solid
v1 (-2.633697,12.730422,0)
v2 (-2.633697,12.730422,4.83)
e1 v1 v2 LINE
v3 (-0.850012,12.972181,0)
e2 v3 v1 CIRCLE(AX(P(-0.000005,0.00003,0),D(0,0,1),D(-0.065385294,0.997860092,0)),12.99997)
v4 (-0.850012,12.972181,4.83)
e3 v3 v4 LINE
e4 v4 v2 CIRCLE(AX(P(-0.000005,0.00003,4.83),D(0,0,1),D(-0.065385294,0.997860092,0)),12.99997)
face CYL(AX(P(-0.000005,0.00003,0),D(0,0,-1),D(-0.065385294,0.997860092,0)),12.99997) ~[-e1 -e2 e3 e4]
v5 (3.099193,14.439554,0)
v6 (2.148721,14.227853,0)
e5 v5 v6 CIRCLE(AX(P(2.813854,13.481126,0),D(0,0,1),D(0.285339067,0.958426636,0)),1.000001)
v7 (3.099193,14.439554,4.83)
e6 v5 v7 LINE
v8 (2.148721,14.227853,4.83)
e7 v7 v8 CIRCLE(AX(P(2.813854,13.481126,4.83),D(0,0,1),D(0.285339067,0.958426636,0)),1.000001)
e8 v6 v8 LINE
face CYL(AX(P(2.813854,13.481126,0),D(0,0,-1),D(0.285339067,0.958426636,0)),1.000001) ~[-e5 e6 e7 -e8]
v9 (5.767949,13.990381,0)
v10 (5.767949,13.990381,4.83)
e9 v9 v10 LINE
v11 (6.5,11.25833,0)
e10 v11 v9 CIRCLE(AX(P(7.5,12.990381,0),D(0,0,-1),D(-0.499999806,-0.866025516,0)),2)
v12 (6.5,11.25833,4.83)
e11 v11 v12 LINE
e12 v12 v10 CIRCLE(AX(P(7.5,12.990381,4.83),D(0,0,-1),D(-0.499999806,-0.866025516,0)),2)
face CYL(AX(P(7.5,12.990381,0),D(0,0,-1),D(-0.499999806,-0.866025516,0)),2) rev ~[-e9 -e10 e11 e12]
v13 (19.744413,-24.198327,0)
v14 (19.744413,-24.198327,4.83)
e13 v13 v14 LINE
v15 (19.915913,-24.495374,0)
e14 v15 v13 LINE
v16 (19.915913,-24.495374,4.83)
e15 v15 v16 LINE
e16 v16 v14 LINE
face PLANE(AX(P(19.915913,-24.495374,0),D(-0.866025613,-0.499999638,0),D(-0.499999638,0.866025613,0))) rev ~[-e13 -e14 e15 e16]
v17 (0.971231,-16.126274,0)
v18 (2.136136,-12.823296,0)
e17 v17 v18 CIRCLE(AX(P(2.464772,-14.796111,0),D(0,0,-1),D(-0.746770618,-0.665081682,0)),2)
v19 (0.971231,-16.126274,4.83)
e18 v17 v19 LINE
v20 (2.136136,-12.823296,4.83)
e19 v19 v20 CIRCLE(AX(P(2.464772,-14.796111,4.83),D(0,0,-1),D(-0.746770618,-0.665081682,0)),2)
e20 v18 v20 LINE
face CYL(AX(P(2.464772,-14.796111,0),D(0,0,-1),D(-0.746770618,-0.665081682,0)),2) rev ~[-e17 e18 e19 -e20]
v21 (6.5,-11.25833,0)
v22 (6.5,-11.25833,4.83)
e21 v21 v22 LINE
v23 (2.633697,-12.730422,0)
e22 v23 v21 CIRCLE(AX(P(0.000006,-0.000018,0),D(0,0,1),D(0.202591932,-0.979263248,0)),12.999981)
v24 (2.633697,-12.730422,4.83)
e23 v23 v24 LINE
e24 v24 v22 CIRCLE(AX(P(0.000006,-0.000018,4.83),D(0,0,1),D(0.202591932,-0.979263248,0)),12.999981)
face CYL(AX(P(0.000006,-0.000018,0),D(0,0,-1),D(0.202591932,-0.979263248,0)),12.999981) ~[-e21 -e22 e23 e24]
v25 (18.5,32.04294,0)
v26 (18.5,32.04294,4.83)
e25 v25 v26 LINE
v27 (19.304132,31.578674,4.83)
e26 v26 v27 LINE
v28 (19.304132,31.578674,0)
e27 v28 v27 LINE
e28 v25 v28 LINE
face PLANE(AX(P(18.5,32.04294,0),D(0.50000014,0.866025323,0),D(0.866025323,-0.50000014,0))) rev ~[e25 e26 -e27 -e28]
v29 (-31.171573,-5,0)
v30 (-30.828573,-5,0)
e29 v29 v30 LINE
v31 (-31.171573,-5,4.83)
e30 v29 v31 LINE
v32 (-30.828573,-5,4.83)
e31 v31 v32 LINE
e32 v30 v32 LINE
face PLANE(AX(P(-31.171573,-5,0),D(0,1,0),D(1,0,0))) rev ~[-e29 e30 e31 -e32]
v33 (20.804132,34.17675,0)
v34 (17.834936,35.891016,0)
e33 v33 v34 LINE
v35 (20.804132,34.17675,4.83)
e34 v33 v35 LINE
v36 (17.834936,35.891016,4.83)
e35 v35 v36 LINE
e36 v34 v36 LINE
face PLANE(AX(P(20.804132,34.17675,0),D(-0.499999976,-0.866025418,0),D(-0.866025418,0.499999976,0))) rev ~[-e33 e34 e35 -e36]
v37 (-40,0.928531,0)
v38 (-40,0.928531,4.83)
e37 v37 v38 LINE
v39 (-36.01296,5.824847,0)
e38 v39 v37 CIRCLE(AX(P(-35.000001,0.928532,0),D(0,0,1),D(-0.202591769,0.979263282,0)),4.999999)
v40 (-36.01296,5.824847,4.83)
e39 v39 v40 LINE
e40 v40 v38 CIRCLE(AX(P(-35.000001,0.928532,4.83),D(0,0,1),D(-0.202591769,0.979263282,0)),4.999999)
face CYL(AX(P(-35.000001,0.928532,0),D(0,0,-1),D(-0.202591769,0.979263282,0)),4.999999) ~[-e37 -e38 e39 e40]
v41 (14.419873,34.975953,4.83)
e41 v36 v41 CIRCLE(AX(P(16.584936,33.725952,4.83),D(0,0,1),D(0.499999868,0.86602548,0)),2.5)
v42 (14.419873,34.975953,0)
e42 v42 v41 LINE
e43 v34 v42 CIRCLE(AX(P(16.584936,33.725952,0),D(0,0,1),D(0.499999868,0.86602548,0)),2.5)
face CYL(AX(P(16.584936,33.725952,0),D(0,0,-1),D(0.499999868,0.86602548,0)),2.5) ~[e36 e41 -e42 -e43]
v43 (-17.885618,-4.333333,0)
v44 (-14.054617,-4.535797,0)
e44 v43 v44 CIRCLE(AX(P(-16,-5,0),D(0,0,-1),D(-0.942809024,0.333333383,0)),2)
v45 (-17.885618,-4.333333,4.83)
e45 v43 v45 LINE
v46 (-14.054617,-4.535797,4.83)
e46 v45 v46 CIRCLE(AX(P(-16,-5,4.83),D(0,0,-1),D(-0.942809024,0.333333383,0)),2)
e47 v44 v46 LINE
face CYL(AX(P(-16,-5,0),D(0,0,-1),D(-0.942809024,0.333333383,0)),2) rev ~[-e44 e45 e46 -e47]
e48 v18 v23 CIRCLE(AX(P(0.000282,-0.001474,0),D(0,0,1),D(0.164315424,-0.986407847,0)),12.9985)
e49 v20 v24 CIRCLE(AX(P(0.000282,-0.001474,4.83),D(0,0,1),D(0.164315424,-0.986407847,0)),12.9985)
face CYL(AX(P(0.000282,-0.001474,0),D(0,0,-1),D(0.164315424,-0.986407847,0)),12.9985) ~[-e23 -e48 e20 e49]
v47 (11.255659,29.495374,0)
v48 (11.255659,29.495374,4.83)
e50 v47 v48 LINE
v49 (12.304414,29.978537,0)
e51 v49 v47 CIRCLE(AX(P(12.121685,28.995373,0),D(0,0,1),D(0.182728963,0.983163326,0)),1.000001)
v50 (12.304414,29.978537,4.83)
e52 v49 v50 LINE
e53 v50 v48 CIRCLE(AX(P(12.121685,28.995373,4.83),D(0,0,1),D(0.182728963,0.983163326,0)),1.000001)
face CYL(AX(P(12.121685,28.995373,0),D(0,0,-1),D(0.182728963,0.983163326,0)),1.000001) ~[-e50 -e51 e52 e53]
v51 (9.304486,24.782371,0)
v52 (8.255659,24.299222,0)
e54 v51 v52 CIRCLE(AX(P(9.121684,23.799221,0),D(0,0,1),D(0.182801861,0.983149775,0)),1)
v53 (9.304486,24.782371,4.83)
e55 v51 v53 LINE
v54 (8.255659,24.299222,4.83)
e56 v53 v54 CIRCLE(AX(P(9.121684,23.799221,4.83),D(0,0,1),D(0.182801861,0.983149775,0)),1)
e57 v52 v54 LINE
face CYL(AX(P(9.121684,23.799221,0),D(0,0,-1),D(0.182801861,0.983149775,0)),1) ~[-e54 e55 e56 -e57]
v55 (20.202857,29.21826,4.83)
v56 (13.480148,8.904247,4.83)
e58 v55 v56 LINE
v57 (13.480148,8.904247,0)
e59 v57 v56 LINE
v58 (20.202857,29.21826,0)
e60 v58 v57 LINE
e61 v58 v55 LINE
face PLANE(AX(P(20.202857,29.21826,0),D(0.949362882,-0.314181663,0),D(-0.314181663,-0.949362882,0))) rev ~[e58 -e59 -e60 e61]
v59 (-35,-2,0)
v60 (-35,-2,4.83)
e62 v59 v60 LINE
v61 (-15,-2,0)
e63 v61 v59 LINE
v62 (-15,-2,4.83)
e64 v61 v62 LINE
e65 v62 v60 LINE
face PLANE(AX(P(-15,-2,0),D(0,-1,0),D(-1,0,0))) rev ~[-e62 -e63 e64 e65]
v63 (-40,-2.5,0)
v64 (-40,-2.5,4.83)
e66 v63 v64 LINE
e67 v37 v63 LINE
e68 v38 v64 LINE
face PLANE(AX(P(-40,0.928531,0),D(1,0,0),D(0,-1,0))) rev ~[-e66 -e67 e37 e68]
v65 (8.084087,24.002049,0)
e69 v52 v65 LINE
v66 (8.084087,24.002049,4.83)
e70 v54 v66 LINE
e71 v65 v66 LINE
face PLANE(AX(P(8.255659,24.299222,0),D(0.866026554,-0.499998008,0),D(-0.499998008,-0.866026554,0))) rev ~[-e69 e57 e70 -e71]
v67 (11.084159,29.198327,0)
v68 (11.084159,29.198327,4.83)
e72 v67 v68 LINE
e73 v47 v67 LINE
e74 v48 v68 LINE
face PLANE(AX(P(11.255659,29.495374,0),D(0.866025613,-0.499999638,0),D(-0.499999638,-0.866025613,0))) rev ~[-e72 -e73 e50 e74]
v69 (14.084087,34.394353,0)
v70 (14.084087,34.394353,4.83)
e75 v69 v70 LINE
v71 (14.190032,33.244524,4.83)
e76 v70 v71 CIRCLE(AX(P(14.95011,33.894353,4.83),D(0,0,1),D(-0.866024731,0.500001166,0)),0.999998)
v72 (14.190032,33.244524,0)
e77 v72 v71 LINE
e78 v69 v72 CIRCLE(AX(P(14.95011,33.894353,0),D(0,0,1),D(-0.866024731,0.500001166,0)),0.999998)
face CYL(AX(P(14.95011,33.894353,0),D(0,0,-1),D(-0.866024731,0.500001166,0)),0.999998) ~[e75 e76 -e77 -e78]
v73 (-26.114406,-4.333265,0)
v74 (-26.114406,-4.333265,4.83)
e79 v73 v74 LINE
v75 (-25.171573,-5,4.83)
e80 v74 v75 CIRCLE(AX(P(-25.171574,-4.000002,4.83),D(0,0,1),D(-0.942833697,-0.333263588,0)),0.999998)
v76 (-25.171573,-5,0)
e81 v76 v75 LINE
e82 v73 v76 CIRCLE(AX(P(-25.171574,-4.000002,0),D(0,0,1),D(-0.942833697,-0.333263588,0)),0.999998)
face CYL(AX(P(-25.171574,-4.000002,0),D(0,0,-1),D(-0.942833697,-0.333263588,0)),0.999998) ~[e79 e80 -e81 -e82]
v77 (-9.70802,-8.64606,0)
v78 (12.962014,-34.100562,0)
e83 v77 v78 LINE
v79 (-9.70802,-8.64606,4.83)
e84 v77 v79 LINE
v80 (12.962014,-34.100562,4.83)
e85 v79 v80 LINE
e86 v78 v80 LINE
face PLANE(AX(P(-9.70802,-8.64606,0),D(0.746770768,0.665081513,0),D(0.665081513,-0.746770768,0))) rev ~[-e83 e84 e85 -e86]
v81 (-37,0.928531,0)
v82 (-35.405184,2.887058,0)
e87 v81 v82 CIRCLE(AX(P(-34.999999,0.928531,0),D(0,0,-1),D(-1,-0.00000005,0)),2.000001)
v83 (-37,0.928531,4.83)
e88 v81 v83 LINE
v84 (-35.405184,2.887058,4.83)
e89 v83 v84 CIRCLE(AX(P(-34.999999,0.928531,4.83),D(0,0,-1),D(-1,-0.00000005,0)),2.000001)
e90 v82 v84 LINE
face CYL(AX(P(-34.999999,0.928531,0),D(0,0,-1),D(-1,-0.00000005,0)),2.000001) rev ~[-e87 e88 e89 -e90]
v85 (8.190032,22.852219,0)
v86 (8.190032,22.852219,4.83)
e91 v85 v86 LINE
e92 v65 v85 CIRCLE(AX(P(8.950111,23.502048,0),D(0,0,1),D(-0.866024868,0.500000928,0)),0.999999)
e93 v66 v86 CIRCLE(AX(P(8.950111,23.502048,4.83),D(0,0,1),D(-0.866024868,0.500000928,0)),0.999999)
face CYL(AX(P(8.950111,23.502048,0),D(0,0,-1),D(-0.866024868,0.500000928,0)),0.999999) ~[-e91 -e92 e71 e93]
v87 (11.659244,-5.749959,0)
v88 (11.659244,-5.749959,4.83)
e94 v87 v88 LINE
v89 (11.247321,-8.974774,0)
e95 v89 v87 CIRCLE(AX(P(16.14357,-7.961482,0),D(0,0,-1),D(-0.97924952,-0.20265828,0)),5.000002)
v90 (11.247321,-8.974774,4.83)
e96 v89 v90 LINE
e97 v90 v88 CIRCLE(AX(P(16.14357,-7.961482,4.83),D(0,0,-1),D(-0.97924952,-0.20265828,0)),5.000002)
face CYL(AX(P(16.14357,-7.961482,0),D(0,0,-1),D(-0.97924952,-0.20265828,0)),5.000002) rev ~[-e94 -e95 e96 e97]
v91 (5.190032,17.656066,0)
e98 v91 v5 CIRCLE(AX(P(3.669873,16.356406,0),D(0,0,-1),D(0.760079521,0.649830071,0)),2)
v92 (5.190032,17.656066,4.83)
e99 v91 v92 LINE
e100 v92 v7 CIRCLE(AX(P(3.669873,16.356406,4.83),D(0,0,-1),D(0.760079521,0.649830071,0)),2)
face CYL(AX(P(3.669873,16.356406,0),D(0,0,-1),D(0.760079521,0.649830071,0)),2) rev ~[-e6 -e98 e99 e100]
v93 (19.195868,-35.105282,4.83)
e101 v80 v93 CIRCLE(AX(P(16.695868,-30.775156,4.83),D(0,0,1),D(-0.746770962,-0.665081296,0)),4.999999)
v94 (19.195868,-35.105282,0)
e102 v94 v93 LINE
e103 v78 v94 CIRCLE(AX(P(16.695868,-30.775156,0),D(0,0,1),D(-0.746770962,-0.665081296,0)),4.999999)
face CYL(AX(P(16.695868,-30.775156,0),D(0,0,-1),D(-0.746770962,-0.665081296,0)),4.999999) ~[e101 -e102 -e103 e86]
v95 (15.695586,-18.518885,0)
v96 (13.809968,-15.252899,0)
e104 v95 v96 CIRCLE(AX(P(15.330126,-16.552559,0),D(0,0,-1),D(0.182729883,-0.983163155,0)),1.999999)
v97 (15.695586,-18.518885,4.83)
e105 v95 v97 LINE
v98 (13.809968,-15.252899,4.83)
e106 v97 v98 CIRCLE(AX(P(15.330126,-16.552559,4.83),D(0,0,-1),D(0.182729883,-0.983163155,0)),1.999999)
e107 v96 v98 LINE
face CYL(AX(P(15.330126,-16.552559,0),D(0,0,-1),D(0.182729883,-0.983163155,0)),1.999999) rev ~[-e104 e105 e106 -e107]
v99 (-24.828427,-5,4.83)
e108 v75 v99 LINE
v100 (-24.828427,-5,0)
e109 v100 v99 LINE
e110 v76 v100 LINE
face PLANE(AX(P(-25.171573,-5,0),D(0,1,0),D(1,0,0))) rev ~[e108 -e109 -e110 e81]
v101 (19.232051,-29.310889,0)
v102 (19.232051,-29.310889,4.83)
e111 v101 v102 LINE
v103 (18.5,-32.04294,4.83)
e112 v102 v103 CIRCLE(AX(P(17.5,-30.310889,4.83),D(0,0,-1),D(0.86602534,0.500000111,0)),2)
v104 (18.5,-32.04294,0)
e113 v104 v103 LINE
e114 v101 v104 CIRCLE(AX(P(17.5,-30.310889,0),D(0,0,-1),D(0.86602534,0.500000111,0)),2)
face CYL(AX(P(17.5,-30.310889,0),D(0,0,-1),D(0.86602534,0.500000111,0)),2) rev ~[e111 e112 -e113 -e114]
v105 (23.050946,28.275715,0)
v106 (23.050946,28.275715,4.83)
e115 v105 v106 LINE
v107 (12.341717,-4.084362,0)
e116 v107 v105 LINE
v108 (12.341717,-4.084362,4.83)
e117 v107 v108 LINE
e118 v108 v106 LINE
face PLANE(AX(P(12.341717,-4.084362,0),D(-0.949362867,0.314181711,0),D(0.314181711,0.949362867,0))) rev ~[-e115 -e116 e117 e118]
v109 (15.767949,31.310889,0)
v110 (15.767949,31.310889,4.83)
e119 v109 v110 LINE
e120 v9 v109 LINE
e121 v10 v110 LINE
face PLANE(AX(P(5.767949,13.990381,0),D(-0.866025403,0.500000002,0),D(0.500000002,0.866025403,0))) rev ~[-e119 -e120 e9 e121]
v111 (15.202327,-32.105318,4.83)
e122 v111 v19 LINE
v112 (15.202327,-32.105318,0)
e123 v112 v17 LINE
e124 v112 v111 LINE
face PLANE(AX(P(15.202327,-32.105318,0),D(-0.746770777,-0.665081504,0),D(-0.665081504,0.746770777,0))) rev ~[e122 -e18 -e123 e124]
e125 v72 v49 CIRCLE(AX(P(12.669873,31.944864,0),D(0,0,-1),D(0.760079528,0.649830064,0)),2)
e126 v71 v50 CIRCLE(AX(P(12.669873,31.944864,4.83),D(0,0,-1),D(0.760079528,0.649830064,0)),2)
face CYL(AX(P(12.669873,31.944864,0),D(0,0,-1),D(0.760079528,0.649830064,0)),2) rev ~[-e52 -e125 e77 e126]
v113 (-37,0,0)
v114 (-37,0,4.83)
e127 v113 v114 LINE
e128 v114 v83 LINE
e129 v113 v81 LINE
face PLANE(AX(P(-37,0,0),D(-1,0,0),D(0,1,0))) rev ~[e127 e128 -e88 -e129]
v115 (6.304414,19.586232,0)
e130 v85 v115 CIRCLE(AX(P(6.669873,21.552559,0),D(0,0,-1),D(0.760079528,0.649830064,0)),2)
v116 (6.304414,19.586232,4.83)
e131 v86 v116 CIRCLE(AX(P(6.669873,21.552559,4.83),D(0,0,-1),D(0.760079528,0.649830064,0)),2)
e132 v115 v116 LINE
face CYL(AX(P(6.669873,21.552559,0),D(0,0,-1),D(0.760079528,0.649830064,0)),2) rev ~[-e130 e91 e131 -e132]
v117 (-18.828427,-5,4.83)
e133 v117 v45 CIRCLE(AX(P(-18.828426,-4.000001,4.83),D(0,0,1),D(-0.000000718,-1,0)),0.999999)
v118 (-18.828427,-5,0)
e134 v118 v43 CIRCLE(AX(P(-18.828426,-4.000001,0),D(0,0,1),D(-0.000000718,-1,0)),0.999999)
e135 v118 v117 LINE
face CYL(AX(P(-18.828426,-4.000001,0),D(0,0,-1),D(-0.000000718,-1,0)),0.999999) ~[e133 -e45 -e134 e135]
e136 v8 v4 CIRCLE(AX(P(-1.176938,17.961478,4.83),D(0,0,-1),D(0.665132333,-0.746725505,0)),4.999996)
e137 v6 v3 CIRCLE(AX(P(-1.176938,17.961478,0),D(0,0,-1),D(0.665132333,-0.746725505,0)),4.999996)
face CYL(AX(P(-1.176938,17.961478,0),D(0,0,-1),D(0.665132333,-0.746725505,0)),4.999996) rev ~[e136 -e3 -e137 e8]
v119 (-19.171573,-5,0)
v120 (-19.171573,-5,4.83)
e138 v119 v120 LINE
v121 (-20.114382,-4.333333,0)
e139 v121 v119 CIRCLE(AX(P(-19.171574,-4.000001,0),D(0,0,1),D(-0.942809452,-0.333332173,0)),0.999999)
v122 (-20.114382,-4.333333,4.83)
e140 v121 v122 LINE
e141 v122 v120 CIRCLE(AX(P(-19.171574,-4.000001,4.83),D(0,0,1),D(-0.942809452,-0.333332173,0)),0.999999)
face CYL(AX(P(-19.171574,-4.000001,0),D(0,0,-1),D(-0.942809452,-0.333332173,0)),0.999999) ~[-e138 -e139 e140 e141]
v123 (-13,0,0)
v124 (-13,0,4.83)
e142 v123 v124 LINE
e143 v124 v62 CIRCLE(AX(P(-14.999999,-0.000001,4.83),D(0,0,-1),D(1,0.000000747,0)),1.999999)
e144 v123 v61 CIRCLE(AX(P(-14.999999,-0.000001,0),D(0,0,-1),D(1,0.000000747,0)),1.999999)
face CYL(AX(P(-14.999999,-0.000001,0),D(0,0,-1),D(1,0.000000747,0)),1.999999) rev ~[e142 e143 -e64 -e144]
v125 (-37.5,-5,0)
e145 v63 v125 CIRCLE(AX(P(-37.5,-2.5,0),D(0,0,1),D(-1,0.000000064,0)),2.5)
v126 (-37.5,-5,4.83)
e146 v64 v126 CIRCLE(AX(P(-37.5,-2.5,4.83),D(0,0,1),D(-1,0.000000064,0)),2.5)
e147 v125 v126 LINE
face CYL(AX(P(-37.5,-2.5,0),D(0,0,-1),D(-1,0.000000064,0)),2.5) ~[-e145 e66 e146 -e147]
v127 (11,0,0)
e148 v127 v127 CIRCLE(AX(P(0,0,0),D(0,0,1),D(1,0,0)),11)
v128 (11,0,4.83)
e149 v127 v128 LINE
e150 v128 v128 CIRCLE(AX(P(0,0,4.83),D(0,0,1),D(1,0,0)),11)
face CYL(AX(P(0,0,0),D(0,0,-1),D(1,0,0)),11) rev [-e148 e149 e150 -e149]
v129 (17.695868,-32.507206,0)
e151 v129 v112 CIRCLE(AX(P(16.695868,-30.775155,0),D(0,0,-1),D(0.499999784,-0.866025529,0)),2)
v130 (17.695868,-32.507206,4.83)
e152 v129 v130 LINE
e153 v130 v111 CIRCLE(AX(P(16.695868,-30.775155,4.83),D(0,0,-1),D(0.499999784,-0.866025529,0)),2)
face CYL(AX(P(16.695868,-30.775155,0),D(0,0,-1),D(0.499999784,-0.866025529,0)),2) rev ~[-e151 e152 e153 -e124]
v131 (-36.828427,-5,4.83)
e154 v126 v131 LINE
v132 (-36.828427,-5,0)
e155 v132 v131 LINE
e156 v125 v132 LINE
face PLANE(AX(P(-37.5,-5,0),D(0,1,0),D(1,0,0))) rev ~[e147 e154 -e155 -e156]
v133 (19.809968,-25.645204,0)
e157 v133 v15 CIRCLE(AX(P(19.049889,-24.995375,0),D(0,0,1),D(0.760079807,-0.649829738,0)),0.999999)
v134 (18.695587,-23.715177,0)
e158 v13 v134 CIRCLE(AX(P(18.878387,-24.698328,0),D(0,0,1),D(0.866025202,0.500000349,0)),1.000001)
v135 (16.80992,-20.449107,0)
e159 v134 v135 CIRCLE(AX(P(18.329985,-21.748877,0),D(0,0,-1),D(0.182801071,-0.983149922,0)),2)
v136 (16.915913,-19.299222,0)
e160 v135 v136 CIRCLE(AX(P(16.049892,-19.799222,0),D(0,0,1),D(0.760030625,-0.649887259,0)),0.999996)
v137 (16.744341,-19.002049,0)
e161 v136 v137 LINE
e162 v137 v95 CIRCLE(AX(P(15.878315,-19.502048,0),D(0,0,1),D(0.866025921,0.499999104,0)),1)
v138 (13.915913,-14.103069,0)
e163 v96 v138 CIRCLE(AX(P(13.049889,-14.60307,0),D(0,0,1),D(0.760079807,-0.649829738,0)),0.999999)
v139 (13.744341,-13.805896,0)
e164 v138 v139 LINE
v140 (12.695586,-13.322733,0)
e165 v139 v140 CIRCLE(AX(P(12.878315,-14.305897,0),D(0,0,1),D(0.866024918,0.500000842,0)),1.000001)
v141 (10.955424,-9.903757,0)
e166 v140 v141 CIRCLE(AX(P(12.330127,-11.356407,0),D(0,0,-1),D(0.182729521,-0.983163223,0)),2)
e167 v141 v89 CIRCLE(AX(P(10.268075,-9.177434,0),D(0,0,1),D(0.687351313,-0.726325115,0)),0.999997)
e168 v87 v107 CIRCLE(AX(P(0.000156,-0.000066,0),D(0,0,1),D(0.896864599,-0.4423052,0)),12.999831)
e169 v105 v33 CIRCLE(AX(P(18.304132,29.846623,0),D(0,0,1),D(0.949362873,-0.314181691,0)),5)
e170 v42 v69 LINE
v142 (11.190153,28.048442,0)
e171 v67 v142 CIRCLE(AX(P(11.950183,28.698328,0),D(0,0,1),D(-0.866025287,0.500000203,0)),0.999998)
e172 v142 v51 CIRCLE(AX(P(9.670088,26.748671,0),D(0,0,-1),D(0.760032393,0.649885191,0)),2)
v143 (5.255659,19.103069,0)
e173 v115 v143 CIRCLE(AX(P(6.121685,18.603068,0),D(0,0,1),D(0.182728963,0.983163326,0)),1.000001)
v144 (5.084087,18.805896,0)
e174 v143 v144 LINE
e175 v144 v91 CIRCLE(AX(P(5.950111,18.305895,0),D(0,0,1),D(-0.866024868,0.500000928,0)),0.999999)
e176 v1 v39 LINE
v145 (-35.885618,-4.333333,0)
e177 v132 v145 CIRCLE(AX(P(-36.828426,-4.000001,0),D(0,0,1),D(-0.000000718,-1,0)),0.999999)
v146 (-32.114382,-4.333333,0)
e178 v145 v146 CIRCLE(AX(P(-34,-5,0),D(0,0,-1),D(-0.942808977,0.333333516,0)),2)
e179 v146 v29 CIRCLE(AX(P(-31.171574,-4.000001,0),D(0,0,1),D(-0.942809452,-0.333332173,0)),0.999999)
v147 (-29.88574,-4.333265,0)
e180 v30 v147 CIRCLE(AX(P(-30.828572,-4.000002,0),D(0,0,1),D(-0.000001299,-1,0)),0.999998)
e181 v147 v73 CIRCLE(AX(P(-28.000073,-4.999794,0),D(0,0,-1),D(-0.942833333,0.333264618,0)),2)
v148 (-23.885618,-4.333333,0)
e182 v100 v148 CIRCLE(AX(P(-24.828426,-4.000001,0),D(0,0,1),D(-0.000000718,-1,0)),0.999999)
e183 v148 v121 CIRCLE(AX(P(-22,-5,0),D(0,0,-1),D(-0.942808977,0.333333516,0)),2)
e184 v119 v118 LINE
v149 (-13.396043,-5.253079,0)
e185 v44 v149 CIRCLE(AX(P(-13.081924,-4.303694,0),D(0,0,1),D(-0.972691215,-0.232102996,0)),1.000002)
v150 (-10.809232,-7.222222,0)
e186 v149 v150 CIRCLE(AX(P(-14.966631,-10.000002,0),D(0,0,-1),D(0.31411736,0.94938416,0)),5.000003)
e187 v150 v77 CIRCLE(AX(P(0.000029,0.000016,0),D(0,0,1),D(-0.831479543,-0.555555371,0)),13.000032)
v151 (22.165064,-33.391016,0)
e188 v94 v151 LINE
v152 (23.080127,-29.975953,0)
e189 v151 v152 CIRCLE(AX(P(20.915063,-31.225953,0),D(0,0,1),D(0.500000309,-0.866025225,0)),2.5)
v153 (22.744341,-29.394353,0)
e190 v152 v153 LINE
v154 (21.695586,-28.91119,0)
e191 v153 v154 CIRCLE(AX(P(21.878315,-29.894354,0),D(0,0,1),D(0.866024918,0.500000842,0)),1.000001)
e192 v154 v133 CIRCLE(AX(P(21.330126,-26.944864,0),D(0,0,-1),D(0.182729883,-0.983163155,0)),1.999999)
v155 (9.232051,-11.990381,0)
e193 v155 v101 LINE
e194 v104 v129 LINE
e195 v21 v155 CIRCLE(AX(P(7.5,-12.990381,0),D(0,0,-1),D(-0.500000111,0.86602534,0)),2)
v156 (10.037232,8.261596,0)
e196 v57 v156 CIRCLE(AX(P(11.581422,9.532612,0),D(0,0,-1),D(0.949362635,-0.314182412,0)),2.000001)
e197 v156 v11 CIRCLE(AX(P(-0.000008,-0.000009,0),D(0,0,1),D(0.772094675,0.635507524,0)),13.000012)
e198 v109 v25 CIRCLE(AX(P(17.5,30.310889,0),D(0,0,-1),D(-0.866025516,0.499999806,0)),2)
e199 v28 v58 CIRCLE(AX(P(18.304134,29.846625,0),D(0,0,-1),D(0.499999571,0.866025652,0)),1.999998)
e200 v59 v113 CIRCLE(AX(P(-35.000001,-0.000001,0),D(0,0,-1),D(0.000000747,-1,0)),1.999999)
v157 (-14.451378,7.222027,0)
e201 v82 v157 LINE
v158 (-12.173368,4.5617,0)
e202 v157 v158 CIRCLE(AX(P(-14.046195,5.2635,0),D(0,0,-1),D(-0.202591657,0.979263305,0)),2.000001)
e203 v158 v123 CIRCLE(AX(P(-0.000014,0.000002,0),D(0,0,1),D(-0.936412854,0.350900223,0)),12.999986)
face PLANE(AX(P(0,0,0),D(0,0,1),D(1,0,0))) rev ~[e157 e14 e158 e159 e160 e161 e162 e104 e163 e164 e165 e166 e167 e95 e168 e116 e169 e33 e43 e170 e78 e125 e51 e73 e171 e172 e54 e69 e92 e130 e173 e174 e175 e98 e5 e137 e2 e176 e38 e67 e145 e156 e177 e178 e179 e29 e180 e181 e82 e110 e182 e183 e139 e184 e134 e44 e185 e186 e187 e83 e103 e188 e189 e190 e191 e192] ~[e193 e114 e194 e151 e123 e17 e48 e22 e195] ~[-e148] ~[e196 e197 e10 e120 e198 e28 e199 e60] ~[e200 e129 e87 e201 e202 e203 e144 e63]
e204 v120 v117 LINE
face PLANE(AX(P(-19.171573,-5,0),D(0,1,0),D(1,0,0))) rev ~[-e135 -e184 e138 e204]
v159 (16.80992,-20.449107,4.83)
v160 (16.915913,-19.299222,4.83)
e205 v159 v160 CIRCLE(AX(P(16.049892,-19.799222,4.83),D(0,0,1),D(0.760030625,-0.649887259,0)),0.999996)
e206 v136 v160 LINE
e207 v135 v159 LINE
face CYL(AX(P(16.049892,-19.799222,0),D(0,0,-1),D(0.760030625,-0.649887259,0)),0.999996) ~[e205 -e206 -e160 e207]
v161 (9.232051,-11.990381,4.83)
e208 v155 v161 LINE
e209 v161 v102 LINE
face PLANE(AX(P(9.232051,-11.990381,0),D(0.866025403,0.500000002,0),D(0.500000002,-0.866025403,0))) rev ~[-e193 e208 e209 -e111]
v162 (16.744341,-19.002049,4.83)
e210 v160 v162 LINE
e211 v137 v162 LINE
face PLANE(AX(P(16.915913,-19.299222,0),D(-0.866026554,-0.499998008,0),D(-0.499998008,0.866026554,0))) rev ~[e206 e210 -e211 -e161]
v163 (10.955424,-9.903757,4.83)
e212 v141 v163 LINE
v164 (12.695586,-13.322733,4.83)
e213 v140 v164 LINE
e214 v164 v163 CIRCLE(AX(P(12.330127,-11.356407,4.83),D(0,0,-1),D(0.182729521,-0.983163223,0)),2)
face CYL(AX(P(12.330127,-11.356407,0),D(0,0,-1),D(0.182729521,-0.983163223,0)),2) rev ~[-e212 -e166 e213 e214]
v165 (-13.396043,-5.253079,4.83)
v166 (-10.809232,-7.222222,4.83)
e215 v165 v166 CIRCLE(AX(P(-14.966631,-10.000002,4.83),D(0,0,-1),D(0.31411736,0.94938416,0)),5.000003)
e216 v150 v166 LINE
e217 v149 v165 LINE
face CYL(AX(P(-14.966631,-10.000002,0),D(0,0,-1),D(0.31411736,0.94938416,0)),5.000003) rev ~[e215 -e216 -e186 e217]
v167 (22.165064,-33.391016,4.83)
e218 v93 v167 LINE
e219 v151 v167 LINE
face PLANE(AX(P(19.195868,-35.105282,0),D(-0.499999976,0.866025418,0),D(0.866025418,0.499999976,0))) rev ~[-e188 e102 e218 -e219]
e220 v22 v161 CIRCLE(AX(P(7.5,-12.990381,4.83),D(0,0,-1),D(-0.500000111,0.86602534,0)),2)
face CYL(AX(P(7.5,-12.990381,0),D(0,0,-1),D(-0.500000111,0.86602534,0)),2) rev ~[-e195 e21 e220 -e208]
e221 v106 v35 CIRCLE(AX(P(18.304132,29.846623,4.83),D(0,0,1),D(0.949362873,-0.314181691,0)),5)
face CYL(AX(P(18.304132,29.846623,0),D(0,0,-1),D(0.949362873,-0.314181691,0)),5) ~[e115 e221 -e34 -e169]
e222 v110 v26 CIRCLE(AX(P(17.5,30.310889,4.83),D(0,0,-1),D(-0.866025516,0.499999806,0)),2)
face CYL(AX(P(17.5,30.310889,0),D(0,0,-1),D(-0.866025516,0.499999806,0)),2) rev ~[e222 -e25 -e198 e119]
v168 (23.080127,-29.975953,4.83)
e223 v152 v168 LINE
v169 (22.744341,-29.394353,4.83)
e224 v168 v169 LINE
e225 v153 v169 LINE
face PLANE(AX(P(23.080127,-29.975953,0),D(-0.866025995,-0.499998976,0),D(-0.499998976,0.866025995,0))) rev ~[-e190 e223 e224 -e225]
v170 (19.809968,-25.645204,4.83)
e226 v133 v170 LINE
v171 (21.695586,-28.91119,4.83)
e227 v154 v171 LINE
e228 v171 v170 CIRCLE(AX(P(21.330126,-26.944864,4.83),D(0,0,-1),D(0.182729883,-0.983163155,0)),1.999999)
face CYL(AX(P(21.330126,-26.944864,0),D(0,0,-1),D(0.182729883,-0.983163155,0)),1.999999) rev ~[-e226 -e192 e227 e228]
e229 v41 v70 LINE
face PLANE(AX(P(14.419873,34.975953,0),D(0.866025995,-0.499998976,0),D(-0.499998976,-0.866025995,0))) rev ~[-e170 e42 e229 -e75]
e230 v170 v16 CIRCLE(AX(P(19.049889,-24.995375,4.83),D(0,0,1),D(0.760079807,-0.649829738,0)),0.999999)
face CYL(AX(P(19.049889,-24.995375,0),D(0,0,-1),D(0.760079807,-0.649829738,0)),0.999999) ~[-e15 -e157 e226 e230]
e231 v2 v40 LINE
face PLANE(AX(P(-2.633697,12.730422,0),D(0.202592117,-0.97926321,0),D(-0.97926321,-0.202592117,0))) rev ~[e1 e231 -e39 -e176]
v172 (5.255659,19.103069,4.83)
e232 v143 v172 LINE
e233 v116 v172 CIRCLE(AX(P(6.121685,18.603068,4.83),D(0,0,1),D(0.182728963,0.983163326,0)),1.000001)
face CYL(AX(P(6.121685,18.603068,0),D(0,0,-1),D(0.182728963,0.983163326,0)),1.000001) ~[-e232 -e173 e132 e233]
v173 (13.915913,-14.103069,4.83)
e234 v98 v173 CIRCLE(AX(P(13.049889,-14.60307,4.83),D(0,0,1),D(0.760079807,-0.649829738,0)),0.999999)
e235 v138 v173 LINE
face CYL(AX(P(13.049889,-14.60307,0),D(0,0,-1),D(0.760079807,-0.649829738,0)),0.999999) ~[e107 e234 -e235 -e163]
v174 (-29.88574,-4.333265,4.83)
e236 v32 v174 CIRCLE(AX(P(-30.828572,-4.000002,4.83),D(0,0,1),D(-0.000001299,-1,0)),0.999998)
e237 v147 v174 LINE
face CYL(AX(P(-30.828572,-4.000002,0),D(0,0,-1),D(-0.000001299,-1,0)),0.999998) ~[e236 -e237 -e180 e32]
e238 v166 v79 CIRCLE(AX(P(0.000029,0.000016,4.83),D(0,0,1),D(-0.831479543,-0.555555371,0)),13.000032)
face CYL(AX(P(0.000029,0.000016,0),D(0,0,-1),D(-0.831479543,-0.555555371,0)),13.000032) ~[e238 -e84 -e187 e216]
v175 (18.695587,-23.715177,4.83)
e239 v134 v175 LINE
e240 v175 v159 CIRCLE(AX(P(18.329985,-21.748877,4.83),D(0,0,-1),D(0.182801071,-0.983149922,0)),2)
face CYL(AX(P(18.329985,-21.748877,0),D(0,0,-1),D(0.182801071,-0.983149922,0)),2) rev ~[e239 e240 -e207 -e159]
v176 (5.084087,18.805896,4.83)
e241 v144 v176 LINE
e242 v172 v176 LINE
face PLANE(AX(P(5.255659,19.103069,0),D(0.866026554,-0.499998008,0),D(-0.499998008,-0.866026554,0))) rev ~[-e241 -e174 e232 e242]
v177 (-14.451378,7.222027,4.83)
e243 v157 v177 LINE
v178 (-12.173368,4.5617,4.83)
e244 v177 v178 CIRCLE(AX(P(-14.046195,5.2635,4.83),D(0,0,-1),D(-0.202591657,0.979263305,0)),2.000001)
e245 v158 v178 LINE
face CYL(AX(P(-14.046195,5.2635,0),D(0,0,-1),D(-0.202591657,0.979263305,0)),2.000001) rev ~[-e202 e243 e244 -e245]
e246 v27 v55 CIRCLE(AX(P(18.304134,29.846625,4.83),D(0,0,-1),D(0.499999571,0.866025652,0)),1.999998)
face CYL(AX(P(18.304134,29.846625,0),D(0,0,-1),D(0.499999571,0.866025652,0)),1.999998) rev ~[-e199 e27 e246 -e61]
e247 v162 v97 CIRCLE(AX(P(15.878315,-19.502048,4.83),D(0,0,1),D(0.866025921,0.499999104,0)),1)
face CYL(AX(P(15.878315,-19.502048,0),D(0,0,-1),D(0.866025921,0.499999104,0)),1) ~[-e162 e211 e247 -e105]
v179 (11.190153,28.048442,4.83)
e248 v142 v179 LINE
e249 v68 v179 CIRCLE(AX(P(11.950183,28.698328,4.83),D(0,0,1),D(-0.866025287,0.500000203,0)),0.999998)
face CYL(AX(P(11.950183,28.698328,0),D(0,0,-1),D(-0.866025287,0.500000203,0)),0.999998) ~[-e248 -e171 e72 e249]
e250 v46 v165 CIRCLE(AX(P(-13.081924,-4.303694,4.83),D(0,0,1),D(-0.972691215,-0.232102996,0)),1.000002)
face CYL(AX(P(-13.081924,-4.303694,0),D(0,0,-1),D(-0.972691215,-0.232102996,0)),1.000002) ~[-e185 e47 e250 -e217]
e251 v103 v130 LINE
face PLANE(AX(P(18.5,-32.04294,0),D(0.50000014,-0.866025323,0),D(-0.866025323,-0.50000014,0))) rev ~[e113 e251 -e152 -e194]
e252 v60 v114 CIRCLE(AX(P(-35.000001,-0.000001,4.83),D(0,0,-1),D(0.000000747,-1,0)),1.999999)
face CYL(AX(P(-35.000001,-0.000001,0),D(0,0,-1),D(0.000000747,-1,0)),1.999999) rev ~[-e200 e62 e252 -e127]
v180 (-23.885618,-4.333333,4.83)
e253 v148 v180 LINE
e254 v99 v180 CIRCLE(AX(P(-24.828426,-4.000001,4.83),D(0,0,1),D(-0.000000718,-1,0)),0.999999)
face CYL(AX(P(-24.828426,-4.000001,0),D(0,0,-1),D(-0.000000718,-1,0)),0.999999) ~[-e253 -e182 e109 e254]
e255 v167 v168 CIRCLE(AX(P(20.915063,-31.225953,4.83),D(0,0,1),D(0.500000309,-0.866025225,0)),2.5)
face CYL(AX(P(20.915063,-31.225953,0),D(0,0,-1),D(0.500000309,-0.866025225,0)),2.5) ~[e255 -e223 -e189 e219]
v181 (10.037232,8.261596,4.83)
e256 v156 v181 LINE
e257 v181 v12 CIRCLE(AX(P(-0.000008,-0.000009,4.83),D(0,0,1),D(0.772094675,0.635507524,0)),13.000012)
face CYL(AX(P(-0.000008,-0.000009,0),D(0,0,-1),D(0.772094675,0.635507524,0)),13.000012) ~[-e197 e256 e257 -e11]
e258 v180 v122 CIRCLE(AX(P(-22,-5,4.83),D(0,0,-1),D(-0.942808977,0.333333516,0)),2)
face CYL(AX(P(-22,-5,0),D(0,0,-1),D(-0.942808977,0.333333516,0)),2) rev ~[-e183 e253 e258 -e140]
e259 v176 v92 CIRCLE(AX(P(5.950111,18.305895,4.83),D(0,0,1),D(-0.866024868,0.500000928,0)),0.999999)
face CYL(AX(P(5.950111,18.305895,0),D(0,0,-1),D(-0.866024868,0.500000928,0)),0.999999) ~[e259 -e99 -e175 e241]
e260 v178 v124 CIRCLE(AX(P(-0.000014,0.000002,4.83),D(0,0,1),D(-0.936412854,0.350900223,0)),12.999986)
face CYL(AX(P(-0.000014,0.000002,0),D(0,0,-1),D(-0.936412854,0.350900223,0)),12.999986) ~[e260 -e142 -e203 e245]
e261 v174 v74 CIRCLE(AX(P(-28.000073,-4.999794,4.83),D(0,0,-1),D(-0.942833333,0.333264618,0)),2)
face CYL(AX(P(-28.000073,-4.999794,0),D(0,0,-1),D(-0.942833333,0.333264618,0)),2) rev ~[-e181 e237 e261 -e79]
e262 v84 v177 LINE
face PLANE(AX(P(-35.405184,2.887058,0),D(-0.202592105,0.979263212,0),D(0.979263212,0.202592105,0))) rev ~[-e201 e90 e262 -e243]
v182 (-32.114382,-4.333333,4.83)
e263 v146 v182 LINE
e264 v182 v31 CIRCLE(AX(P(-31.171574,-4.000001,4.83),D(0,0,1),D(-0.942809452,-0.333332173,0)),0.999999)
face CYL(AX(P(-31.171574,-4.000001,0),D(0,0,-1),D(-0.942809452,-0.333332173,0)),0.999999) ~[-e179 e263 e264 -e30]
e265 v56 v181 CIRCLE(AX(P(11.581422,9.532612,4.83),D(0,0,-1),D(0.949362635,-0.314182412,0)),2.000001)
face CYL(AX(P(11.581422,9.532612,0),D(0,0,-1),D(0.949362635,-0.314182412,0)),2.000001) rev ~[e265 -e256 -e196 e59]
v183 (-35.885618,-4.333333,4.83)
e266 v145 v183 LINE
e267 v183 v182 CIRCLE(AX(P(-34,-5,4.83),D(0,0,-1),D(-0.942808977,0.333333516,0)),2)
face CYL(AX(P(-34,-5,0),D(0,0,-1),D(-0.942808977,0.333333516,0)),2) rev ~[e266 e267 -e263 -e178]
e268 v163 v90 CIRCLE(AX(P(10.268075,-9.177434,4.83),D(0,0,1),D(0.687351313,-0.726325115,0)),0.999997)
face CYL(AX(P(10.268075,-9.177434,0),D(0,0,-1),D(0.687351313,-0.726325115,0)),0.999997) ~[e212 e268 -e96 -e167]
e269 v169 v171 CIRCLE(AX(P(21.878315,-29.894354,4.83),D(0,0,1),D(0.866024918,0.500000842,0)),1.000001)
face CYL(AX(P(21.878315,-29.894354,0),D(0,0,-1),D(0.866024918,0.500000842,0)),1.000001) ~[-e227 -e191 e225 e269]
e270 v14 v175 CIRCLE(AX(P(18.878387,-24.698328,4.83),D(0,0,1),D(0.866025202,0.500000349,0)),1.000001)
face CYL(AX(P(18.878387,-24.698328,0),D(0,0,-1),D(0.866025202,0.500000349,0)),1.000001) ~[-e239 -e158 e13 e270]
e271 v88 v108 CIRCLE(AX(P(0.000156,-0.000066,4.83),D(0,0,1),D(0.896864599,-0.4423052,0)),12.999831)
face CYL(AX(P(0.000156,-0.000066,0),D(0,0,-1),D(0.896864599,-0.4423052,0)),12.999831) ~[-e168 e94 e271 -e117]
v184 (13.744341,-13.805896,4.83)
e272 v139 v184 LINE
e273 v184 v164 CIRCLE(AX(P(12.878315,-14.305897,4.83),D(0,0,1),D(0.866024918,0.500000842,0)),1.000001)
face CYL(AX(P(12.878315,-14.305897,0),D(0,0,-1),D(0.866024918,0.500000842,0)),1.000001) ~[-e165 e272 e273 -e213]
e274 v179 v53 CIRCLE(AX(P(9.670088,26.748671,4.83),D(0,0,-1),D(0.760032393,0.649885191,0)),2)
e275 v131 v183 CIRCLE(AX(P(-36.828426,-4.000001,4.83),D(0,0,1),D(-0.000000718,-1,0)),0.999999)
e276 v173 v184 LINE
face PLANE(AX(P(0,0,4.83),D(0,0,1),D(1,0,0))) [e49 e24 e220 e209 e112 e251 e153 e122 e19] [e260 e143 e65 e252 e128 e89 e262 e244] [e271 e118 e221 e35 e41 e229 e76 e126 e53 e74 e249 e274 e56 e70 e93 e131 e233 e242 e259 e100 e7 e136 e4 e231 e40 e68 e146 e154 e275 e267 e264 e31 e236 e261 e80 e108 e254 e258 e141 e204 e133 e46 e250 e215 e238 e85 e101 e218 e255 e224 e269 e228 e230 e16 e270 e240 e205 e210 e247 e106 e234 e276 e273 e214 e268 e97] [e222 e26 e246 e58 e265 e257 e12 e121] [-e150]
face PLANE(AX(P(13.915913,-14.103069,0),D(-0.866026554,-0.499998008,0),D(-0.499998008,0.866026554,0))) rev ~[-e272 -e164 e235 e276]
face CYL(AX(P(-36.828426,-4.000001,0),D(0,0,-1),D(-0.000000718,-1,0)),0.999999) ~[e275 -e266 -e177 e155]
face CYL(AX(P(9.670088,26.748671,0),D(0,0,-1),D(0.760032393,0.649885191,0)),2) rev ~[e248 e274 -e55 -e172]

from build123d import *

# Parameters (mm, degrees)
F0_R     = 11
F1_DEPTH = 4.83


with BuildPart() as f1:
    # F0 (on Top) → F1 (new body)
    with BuildSketch(Plane.XY):
        with BuildLine():
            ThreePointArc((-36.01296, 5.824847), (-38.877164, 4.085682), (-40, 0.928531))
            Line((-40, 0.928531), (-40, -2.5))
            ThreePointArc((-40, -2.5), (-39.267767, -4.267767), (-37.5, -5))
            Line((-37.5, -5), (-36.828427, -5))
            ThreePointArc((-36.828427, -5), (-36.251077, -4.816497), (-35.885618, -4.333333))
            ThreePointArc((-35.885618, -4.333333), (-34, -3), (-32.114382, -4.333333))
            ThreePointArc((-32.114382, -4.333333), (-31.748923, -4.816497), (-31.171573, -5))
            Line((-31.171573, -5), (-30.828573, -5))
            ThreePointArc((-30.828573, -5), (-30.251193, -4.816476), (-29.88574, -4.333265))
            ThreePointArc((-29.88574, -4.333265), (-28.000073, -2.999794), (-26.114406, -4.333265))
            ThreePointArc((-26.114406, -4.333265), (-25.748953, -4.816476), (-25.171573, -5))
            Line((-25.171573, -5), (-24.828427, -5))
            ThreePointArc((-24.828427, -5), (-24.251077, -4.816497), (-23.885618, -4.333333))
            ThreePointArc((-23.885618, -4.333333), (-22, -3), (-20.114382, -4.333333))
            ThreePointArc((-20.114382, -4.333333), (-19.748923, -4.816497), (-19.171573, -5))
            Line((-19.171573, -5), (-18.828427, -5))
            ThreePointArc((-18.828427, -5), (-18.251077, -4.816497), (-17.885618, -4.333333))
            ThreePointArc((-17.885618, -4.333333), (-15.89445, -3.002787), (-14.054617, -4.535797))
            ThreePointArc((-14.054617, -4.535797), (-13.818534, -4.980014), (-13.396043, -5.253079))
            ThreePointArc((-13.396043, -5.253079), (-11.938126, -6.021537), (-10.809232, -7.222222))
            ThreePointArc((-10.809232, -7.222222), (-10.283299, -7.953223), (-9.70802, -8.64606))
            Line((-9.70802, -8.64606), (12.962014, -34.100562))
            ThreePointArc((12.962014, -34.100562), (15.900278, -35.711453), (19.195868, -35.105282))
            Line((19.195868, -35.105282), (22.165064, -33.391016))
            ThreePointArc((22.165064, -33.391016), (23.329878, -31.873), (23.080127, -29.975953))
            Line((23.080127, -29.975953), (22.744341, -29.394353))
            ThreePointArc((22.744341, -29.394353), (22.296747, -28.986105), (21.695586, -28.91119))
            ThreePointArc((21.695586, -28.91119), (19.598076, -27.944864), (19.809968, -25.645204))
            ThreePointArc((19.809968, -25.645204), (20.04567, -25.087126), (19.915913, -24.495374))
            Line((19.915913, -24.495374), (19.744413, -24.198327))
            ThreePointArc((19.744413, -24.198327), (19.296787, -23.790064), (18.695587, -23.715177))
            ThreePointArc((18.695587, -23.715177), (16.597934, -22.748877), (16.80992, -20.449107))
            ThreePointArc((16.80992, -20.449107), (17.045667, -19.89101), (16.915913, -19.299222))
            Line((16.915913, -19.299222), (16.744341, -19.002049))
            ThreePointArc((16.744341, -19.002049), (16.296747, -18.5938), (15.695586, -18.518885))
            ThreePointArc((15.695586, -18.518885), (13.598076, -17.552559), (13.809968, -15.252899))
            ThreePointArc((13.809968, -15.252899), (14.04567, -14.694821), (13.915913, -14.103069))
            Line((13.915913, -14.103069), (13.744341, -13.805896))
            ThreePointArc((13.744341, -13.805896), (13.296747, -13.397648), (12.695586, -13.322733))
            ThreePointArc((12.695586, -13.322733), (10.547715, -12.263604), (10.955424, -9.903757))
            ThreePointArc((10.955424, -9.903757), (11.222086, -9.477195), (11.247321, -8.974774))
            ThreePointArc((11.247321, -8.974774), (11.183867, -7.327952), (11.659244, -5.749959))
            ThreePointArc((11.659244, -5.749959), (12.029343, -4.928987), (12.341717, -4.084362))
            Line((12.341717, -4.084362), (23.050946, 28.275715))
            ThreePointArc((23.050946, 28.275715), (22.976886, 31.625771), (20.804132, 34.17675))
            Line((20.804132, 34.17675), (17.834936, 35.891016))
            ThreePointArc((17.834936, 35.891016), (15.937889, 36.140767), (14.419873, 34.975953))
            Line((14.419873, 34.975953), (14.084087, 34.394353))
            ThreePointArc((14.084087, 34.394353), (13.95433, 33.802602), (14.190032, 33.244524))
            ThreePointArc((14.190032, 33.244524), (14.401924, 30.944864), (12.304414, 29.978537))
            ThreePointArc((12.304414, 29.978537), (11.703253, 29.903622), (11.255659, 29.495374))
            Line((11.255659, 29.495374), (11.084159, 29.198327))
            ThreePointArc((11.084159, 29.198327), (10.954406, 28.606539), (11.190153, 28.048442))
            ThreePointArc((11.190153, 28.048442), (11.402139, 25.748671), (9.304486, 24.782371))
            ThreePointArc((9.304486, 24.782371), (8.703286, 24.707485), (8.255659, 24.299222))
            Line((8.255659, 24.299222), (8.084087, 24.002049))
            ThreePointArc((8.084087, 24.002049), (7.95433, 23.410297), (8.190032, 22.852219))
            ThreePointArc((8.190032, 22.852219), (8.401924, 20.552559), (6.304414, 19.586232))
            ThreePointArc((6.304414, 19.586232), (5.703253, 19.511317), (5.255659, 19.103069))
            Line((5.255659, 19.103069), (5.084087, 18.805896))
            ThreePointArc((5.084087, 18.805896), (4.95433, 18.214144), (5.190032, 17.656066))
            ThreePointArc((5.190032, 17.656066), (5.346735, 15.266391), (3.099193, 14.439554))
            ThreePointArc((3.099193, 14.439554), (2.596449, 14.457209), (2.148721, 14.227853))
            ThreePointArc((2.148721, 14.227853), (0.754259, 13.349489), (-0.850012, 12.972181))
            ThreePointArc((-0.850012, 12.972181), (-1.746044, 12.88221), (-2.633697, 12.730422))
            Line((-2.633697, 12.730422), (-36.01296, 5.824847))
        make_face()
        with BuildLine():
            ThreePointArc((6.5, -11.25833), (8.017638, -11.058529), (9.232051, -11.990381))
            Line((9.232051, -11.990381), (19.232051, -29.310889))
            ThreePointArc((19.232051, -29.310889), (19.431852, -30.828527), (18.5, -32.04294))
            Line((18.5, -32.04294), (17.695868, -32.507206))
            ThreePointArc((17.695868, -32.507206), (16.377632, -32.749674), (15.202327, -32.105318))
            Line((15.202327, -32.105318), (0.971231, -16.126274))
            ThreePointArc((0.971231, -16.126274), (0.578639, -14.130903), (2.136136, -12.823296))
            ThreePointArc((2.136136, -12.823296), (2.385369, -12.779281), (2.633697, -12.730422))
            ThreePointArc((2.633697, -12.730422), (4.625783, -12.149162), (6.5, -11.25833))
        make_face(mode=Mode.SUBTRACT)
        Circle(F0_R, mode=Mode.SUBTRACT)
        with BuildLine():
            ThreePointArc((-14.451378, 7.222027), (-12.527041, 6.564336), (-12.173368, 4.5617))
            ThreePointArc((-12.173368, 4.5617), (-12.791673, 2.317996), (-13, 0))
            ThreePointArc((-13, 0), (-13.585786, -1.414214), (-15, -2))
            Line((-15, -2), (-35, -2))
            ThreePointArc((-35, -2), (-36.414214, -1.414214), (-37, 0))
            Line((-37, 0), (-37, 0.928531))
            ThreePointArc((-37, 0.928531), (-36.550866, 2.191391), (-35.405184, 2.887058))
            Line((-35.405184, 2.887058), (-14.451378, 7.222027))
        make_face(mode=Mode.SUBTRACT)
        with BuildLine():
            ThreePointArc((6.5, 11.25833), (5.568148, 12.472743), (5.767949, 13.990381))
            Line((5.767949, 13.990381), (15.767949, 31.310889))
            ThreePointArc((15.767949, 31.310889), (16.982362, 32.242741), (18.5, 32.04294))
            Line((18.5, 32.04294), (19.304132, 31.578674))
            ThreePointArc((19.304132, 31.578674), (20.173234, 30.558282), (20.202857, 29.21826))
            Line((20.202857, 29.21826), (13.480148, 8.904247))
            ThreePointArc((13.480148, 8.904247), (11.948402, 7.566568), (10.037232, 8.261596))
            ThreePointArc((10.037232, 8.261596), (8.40328, 9.918915), (6.5, 11.25833))
        make_face(mode=Mode.SUBTRACT)
    extrude(amount=F1_DEPTH)


solid = f1.part
